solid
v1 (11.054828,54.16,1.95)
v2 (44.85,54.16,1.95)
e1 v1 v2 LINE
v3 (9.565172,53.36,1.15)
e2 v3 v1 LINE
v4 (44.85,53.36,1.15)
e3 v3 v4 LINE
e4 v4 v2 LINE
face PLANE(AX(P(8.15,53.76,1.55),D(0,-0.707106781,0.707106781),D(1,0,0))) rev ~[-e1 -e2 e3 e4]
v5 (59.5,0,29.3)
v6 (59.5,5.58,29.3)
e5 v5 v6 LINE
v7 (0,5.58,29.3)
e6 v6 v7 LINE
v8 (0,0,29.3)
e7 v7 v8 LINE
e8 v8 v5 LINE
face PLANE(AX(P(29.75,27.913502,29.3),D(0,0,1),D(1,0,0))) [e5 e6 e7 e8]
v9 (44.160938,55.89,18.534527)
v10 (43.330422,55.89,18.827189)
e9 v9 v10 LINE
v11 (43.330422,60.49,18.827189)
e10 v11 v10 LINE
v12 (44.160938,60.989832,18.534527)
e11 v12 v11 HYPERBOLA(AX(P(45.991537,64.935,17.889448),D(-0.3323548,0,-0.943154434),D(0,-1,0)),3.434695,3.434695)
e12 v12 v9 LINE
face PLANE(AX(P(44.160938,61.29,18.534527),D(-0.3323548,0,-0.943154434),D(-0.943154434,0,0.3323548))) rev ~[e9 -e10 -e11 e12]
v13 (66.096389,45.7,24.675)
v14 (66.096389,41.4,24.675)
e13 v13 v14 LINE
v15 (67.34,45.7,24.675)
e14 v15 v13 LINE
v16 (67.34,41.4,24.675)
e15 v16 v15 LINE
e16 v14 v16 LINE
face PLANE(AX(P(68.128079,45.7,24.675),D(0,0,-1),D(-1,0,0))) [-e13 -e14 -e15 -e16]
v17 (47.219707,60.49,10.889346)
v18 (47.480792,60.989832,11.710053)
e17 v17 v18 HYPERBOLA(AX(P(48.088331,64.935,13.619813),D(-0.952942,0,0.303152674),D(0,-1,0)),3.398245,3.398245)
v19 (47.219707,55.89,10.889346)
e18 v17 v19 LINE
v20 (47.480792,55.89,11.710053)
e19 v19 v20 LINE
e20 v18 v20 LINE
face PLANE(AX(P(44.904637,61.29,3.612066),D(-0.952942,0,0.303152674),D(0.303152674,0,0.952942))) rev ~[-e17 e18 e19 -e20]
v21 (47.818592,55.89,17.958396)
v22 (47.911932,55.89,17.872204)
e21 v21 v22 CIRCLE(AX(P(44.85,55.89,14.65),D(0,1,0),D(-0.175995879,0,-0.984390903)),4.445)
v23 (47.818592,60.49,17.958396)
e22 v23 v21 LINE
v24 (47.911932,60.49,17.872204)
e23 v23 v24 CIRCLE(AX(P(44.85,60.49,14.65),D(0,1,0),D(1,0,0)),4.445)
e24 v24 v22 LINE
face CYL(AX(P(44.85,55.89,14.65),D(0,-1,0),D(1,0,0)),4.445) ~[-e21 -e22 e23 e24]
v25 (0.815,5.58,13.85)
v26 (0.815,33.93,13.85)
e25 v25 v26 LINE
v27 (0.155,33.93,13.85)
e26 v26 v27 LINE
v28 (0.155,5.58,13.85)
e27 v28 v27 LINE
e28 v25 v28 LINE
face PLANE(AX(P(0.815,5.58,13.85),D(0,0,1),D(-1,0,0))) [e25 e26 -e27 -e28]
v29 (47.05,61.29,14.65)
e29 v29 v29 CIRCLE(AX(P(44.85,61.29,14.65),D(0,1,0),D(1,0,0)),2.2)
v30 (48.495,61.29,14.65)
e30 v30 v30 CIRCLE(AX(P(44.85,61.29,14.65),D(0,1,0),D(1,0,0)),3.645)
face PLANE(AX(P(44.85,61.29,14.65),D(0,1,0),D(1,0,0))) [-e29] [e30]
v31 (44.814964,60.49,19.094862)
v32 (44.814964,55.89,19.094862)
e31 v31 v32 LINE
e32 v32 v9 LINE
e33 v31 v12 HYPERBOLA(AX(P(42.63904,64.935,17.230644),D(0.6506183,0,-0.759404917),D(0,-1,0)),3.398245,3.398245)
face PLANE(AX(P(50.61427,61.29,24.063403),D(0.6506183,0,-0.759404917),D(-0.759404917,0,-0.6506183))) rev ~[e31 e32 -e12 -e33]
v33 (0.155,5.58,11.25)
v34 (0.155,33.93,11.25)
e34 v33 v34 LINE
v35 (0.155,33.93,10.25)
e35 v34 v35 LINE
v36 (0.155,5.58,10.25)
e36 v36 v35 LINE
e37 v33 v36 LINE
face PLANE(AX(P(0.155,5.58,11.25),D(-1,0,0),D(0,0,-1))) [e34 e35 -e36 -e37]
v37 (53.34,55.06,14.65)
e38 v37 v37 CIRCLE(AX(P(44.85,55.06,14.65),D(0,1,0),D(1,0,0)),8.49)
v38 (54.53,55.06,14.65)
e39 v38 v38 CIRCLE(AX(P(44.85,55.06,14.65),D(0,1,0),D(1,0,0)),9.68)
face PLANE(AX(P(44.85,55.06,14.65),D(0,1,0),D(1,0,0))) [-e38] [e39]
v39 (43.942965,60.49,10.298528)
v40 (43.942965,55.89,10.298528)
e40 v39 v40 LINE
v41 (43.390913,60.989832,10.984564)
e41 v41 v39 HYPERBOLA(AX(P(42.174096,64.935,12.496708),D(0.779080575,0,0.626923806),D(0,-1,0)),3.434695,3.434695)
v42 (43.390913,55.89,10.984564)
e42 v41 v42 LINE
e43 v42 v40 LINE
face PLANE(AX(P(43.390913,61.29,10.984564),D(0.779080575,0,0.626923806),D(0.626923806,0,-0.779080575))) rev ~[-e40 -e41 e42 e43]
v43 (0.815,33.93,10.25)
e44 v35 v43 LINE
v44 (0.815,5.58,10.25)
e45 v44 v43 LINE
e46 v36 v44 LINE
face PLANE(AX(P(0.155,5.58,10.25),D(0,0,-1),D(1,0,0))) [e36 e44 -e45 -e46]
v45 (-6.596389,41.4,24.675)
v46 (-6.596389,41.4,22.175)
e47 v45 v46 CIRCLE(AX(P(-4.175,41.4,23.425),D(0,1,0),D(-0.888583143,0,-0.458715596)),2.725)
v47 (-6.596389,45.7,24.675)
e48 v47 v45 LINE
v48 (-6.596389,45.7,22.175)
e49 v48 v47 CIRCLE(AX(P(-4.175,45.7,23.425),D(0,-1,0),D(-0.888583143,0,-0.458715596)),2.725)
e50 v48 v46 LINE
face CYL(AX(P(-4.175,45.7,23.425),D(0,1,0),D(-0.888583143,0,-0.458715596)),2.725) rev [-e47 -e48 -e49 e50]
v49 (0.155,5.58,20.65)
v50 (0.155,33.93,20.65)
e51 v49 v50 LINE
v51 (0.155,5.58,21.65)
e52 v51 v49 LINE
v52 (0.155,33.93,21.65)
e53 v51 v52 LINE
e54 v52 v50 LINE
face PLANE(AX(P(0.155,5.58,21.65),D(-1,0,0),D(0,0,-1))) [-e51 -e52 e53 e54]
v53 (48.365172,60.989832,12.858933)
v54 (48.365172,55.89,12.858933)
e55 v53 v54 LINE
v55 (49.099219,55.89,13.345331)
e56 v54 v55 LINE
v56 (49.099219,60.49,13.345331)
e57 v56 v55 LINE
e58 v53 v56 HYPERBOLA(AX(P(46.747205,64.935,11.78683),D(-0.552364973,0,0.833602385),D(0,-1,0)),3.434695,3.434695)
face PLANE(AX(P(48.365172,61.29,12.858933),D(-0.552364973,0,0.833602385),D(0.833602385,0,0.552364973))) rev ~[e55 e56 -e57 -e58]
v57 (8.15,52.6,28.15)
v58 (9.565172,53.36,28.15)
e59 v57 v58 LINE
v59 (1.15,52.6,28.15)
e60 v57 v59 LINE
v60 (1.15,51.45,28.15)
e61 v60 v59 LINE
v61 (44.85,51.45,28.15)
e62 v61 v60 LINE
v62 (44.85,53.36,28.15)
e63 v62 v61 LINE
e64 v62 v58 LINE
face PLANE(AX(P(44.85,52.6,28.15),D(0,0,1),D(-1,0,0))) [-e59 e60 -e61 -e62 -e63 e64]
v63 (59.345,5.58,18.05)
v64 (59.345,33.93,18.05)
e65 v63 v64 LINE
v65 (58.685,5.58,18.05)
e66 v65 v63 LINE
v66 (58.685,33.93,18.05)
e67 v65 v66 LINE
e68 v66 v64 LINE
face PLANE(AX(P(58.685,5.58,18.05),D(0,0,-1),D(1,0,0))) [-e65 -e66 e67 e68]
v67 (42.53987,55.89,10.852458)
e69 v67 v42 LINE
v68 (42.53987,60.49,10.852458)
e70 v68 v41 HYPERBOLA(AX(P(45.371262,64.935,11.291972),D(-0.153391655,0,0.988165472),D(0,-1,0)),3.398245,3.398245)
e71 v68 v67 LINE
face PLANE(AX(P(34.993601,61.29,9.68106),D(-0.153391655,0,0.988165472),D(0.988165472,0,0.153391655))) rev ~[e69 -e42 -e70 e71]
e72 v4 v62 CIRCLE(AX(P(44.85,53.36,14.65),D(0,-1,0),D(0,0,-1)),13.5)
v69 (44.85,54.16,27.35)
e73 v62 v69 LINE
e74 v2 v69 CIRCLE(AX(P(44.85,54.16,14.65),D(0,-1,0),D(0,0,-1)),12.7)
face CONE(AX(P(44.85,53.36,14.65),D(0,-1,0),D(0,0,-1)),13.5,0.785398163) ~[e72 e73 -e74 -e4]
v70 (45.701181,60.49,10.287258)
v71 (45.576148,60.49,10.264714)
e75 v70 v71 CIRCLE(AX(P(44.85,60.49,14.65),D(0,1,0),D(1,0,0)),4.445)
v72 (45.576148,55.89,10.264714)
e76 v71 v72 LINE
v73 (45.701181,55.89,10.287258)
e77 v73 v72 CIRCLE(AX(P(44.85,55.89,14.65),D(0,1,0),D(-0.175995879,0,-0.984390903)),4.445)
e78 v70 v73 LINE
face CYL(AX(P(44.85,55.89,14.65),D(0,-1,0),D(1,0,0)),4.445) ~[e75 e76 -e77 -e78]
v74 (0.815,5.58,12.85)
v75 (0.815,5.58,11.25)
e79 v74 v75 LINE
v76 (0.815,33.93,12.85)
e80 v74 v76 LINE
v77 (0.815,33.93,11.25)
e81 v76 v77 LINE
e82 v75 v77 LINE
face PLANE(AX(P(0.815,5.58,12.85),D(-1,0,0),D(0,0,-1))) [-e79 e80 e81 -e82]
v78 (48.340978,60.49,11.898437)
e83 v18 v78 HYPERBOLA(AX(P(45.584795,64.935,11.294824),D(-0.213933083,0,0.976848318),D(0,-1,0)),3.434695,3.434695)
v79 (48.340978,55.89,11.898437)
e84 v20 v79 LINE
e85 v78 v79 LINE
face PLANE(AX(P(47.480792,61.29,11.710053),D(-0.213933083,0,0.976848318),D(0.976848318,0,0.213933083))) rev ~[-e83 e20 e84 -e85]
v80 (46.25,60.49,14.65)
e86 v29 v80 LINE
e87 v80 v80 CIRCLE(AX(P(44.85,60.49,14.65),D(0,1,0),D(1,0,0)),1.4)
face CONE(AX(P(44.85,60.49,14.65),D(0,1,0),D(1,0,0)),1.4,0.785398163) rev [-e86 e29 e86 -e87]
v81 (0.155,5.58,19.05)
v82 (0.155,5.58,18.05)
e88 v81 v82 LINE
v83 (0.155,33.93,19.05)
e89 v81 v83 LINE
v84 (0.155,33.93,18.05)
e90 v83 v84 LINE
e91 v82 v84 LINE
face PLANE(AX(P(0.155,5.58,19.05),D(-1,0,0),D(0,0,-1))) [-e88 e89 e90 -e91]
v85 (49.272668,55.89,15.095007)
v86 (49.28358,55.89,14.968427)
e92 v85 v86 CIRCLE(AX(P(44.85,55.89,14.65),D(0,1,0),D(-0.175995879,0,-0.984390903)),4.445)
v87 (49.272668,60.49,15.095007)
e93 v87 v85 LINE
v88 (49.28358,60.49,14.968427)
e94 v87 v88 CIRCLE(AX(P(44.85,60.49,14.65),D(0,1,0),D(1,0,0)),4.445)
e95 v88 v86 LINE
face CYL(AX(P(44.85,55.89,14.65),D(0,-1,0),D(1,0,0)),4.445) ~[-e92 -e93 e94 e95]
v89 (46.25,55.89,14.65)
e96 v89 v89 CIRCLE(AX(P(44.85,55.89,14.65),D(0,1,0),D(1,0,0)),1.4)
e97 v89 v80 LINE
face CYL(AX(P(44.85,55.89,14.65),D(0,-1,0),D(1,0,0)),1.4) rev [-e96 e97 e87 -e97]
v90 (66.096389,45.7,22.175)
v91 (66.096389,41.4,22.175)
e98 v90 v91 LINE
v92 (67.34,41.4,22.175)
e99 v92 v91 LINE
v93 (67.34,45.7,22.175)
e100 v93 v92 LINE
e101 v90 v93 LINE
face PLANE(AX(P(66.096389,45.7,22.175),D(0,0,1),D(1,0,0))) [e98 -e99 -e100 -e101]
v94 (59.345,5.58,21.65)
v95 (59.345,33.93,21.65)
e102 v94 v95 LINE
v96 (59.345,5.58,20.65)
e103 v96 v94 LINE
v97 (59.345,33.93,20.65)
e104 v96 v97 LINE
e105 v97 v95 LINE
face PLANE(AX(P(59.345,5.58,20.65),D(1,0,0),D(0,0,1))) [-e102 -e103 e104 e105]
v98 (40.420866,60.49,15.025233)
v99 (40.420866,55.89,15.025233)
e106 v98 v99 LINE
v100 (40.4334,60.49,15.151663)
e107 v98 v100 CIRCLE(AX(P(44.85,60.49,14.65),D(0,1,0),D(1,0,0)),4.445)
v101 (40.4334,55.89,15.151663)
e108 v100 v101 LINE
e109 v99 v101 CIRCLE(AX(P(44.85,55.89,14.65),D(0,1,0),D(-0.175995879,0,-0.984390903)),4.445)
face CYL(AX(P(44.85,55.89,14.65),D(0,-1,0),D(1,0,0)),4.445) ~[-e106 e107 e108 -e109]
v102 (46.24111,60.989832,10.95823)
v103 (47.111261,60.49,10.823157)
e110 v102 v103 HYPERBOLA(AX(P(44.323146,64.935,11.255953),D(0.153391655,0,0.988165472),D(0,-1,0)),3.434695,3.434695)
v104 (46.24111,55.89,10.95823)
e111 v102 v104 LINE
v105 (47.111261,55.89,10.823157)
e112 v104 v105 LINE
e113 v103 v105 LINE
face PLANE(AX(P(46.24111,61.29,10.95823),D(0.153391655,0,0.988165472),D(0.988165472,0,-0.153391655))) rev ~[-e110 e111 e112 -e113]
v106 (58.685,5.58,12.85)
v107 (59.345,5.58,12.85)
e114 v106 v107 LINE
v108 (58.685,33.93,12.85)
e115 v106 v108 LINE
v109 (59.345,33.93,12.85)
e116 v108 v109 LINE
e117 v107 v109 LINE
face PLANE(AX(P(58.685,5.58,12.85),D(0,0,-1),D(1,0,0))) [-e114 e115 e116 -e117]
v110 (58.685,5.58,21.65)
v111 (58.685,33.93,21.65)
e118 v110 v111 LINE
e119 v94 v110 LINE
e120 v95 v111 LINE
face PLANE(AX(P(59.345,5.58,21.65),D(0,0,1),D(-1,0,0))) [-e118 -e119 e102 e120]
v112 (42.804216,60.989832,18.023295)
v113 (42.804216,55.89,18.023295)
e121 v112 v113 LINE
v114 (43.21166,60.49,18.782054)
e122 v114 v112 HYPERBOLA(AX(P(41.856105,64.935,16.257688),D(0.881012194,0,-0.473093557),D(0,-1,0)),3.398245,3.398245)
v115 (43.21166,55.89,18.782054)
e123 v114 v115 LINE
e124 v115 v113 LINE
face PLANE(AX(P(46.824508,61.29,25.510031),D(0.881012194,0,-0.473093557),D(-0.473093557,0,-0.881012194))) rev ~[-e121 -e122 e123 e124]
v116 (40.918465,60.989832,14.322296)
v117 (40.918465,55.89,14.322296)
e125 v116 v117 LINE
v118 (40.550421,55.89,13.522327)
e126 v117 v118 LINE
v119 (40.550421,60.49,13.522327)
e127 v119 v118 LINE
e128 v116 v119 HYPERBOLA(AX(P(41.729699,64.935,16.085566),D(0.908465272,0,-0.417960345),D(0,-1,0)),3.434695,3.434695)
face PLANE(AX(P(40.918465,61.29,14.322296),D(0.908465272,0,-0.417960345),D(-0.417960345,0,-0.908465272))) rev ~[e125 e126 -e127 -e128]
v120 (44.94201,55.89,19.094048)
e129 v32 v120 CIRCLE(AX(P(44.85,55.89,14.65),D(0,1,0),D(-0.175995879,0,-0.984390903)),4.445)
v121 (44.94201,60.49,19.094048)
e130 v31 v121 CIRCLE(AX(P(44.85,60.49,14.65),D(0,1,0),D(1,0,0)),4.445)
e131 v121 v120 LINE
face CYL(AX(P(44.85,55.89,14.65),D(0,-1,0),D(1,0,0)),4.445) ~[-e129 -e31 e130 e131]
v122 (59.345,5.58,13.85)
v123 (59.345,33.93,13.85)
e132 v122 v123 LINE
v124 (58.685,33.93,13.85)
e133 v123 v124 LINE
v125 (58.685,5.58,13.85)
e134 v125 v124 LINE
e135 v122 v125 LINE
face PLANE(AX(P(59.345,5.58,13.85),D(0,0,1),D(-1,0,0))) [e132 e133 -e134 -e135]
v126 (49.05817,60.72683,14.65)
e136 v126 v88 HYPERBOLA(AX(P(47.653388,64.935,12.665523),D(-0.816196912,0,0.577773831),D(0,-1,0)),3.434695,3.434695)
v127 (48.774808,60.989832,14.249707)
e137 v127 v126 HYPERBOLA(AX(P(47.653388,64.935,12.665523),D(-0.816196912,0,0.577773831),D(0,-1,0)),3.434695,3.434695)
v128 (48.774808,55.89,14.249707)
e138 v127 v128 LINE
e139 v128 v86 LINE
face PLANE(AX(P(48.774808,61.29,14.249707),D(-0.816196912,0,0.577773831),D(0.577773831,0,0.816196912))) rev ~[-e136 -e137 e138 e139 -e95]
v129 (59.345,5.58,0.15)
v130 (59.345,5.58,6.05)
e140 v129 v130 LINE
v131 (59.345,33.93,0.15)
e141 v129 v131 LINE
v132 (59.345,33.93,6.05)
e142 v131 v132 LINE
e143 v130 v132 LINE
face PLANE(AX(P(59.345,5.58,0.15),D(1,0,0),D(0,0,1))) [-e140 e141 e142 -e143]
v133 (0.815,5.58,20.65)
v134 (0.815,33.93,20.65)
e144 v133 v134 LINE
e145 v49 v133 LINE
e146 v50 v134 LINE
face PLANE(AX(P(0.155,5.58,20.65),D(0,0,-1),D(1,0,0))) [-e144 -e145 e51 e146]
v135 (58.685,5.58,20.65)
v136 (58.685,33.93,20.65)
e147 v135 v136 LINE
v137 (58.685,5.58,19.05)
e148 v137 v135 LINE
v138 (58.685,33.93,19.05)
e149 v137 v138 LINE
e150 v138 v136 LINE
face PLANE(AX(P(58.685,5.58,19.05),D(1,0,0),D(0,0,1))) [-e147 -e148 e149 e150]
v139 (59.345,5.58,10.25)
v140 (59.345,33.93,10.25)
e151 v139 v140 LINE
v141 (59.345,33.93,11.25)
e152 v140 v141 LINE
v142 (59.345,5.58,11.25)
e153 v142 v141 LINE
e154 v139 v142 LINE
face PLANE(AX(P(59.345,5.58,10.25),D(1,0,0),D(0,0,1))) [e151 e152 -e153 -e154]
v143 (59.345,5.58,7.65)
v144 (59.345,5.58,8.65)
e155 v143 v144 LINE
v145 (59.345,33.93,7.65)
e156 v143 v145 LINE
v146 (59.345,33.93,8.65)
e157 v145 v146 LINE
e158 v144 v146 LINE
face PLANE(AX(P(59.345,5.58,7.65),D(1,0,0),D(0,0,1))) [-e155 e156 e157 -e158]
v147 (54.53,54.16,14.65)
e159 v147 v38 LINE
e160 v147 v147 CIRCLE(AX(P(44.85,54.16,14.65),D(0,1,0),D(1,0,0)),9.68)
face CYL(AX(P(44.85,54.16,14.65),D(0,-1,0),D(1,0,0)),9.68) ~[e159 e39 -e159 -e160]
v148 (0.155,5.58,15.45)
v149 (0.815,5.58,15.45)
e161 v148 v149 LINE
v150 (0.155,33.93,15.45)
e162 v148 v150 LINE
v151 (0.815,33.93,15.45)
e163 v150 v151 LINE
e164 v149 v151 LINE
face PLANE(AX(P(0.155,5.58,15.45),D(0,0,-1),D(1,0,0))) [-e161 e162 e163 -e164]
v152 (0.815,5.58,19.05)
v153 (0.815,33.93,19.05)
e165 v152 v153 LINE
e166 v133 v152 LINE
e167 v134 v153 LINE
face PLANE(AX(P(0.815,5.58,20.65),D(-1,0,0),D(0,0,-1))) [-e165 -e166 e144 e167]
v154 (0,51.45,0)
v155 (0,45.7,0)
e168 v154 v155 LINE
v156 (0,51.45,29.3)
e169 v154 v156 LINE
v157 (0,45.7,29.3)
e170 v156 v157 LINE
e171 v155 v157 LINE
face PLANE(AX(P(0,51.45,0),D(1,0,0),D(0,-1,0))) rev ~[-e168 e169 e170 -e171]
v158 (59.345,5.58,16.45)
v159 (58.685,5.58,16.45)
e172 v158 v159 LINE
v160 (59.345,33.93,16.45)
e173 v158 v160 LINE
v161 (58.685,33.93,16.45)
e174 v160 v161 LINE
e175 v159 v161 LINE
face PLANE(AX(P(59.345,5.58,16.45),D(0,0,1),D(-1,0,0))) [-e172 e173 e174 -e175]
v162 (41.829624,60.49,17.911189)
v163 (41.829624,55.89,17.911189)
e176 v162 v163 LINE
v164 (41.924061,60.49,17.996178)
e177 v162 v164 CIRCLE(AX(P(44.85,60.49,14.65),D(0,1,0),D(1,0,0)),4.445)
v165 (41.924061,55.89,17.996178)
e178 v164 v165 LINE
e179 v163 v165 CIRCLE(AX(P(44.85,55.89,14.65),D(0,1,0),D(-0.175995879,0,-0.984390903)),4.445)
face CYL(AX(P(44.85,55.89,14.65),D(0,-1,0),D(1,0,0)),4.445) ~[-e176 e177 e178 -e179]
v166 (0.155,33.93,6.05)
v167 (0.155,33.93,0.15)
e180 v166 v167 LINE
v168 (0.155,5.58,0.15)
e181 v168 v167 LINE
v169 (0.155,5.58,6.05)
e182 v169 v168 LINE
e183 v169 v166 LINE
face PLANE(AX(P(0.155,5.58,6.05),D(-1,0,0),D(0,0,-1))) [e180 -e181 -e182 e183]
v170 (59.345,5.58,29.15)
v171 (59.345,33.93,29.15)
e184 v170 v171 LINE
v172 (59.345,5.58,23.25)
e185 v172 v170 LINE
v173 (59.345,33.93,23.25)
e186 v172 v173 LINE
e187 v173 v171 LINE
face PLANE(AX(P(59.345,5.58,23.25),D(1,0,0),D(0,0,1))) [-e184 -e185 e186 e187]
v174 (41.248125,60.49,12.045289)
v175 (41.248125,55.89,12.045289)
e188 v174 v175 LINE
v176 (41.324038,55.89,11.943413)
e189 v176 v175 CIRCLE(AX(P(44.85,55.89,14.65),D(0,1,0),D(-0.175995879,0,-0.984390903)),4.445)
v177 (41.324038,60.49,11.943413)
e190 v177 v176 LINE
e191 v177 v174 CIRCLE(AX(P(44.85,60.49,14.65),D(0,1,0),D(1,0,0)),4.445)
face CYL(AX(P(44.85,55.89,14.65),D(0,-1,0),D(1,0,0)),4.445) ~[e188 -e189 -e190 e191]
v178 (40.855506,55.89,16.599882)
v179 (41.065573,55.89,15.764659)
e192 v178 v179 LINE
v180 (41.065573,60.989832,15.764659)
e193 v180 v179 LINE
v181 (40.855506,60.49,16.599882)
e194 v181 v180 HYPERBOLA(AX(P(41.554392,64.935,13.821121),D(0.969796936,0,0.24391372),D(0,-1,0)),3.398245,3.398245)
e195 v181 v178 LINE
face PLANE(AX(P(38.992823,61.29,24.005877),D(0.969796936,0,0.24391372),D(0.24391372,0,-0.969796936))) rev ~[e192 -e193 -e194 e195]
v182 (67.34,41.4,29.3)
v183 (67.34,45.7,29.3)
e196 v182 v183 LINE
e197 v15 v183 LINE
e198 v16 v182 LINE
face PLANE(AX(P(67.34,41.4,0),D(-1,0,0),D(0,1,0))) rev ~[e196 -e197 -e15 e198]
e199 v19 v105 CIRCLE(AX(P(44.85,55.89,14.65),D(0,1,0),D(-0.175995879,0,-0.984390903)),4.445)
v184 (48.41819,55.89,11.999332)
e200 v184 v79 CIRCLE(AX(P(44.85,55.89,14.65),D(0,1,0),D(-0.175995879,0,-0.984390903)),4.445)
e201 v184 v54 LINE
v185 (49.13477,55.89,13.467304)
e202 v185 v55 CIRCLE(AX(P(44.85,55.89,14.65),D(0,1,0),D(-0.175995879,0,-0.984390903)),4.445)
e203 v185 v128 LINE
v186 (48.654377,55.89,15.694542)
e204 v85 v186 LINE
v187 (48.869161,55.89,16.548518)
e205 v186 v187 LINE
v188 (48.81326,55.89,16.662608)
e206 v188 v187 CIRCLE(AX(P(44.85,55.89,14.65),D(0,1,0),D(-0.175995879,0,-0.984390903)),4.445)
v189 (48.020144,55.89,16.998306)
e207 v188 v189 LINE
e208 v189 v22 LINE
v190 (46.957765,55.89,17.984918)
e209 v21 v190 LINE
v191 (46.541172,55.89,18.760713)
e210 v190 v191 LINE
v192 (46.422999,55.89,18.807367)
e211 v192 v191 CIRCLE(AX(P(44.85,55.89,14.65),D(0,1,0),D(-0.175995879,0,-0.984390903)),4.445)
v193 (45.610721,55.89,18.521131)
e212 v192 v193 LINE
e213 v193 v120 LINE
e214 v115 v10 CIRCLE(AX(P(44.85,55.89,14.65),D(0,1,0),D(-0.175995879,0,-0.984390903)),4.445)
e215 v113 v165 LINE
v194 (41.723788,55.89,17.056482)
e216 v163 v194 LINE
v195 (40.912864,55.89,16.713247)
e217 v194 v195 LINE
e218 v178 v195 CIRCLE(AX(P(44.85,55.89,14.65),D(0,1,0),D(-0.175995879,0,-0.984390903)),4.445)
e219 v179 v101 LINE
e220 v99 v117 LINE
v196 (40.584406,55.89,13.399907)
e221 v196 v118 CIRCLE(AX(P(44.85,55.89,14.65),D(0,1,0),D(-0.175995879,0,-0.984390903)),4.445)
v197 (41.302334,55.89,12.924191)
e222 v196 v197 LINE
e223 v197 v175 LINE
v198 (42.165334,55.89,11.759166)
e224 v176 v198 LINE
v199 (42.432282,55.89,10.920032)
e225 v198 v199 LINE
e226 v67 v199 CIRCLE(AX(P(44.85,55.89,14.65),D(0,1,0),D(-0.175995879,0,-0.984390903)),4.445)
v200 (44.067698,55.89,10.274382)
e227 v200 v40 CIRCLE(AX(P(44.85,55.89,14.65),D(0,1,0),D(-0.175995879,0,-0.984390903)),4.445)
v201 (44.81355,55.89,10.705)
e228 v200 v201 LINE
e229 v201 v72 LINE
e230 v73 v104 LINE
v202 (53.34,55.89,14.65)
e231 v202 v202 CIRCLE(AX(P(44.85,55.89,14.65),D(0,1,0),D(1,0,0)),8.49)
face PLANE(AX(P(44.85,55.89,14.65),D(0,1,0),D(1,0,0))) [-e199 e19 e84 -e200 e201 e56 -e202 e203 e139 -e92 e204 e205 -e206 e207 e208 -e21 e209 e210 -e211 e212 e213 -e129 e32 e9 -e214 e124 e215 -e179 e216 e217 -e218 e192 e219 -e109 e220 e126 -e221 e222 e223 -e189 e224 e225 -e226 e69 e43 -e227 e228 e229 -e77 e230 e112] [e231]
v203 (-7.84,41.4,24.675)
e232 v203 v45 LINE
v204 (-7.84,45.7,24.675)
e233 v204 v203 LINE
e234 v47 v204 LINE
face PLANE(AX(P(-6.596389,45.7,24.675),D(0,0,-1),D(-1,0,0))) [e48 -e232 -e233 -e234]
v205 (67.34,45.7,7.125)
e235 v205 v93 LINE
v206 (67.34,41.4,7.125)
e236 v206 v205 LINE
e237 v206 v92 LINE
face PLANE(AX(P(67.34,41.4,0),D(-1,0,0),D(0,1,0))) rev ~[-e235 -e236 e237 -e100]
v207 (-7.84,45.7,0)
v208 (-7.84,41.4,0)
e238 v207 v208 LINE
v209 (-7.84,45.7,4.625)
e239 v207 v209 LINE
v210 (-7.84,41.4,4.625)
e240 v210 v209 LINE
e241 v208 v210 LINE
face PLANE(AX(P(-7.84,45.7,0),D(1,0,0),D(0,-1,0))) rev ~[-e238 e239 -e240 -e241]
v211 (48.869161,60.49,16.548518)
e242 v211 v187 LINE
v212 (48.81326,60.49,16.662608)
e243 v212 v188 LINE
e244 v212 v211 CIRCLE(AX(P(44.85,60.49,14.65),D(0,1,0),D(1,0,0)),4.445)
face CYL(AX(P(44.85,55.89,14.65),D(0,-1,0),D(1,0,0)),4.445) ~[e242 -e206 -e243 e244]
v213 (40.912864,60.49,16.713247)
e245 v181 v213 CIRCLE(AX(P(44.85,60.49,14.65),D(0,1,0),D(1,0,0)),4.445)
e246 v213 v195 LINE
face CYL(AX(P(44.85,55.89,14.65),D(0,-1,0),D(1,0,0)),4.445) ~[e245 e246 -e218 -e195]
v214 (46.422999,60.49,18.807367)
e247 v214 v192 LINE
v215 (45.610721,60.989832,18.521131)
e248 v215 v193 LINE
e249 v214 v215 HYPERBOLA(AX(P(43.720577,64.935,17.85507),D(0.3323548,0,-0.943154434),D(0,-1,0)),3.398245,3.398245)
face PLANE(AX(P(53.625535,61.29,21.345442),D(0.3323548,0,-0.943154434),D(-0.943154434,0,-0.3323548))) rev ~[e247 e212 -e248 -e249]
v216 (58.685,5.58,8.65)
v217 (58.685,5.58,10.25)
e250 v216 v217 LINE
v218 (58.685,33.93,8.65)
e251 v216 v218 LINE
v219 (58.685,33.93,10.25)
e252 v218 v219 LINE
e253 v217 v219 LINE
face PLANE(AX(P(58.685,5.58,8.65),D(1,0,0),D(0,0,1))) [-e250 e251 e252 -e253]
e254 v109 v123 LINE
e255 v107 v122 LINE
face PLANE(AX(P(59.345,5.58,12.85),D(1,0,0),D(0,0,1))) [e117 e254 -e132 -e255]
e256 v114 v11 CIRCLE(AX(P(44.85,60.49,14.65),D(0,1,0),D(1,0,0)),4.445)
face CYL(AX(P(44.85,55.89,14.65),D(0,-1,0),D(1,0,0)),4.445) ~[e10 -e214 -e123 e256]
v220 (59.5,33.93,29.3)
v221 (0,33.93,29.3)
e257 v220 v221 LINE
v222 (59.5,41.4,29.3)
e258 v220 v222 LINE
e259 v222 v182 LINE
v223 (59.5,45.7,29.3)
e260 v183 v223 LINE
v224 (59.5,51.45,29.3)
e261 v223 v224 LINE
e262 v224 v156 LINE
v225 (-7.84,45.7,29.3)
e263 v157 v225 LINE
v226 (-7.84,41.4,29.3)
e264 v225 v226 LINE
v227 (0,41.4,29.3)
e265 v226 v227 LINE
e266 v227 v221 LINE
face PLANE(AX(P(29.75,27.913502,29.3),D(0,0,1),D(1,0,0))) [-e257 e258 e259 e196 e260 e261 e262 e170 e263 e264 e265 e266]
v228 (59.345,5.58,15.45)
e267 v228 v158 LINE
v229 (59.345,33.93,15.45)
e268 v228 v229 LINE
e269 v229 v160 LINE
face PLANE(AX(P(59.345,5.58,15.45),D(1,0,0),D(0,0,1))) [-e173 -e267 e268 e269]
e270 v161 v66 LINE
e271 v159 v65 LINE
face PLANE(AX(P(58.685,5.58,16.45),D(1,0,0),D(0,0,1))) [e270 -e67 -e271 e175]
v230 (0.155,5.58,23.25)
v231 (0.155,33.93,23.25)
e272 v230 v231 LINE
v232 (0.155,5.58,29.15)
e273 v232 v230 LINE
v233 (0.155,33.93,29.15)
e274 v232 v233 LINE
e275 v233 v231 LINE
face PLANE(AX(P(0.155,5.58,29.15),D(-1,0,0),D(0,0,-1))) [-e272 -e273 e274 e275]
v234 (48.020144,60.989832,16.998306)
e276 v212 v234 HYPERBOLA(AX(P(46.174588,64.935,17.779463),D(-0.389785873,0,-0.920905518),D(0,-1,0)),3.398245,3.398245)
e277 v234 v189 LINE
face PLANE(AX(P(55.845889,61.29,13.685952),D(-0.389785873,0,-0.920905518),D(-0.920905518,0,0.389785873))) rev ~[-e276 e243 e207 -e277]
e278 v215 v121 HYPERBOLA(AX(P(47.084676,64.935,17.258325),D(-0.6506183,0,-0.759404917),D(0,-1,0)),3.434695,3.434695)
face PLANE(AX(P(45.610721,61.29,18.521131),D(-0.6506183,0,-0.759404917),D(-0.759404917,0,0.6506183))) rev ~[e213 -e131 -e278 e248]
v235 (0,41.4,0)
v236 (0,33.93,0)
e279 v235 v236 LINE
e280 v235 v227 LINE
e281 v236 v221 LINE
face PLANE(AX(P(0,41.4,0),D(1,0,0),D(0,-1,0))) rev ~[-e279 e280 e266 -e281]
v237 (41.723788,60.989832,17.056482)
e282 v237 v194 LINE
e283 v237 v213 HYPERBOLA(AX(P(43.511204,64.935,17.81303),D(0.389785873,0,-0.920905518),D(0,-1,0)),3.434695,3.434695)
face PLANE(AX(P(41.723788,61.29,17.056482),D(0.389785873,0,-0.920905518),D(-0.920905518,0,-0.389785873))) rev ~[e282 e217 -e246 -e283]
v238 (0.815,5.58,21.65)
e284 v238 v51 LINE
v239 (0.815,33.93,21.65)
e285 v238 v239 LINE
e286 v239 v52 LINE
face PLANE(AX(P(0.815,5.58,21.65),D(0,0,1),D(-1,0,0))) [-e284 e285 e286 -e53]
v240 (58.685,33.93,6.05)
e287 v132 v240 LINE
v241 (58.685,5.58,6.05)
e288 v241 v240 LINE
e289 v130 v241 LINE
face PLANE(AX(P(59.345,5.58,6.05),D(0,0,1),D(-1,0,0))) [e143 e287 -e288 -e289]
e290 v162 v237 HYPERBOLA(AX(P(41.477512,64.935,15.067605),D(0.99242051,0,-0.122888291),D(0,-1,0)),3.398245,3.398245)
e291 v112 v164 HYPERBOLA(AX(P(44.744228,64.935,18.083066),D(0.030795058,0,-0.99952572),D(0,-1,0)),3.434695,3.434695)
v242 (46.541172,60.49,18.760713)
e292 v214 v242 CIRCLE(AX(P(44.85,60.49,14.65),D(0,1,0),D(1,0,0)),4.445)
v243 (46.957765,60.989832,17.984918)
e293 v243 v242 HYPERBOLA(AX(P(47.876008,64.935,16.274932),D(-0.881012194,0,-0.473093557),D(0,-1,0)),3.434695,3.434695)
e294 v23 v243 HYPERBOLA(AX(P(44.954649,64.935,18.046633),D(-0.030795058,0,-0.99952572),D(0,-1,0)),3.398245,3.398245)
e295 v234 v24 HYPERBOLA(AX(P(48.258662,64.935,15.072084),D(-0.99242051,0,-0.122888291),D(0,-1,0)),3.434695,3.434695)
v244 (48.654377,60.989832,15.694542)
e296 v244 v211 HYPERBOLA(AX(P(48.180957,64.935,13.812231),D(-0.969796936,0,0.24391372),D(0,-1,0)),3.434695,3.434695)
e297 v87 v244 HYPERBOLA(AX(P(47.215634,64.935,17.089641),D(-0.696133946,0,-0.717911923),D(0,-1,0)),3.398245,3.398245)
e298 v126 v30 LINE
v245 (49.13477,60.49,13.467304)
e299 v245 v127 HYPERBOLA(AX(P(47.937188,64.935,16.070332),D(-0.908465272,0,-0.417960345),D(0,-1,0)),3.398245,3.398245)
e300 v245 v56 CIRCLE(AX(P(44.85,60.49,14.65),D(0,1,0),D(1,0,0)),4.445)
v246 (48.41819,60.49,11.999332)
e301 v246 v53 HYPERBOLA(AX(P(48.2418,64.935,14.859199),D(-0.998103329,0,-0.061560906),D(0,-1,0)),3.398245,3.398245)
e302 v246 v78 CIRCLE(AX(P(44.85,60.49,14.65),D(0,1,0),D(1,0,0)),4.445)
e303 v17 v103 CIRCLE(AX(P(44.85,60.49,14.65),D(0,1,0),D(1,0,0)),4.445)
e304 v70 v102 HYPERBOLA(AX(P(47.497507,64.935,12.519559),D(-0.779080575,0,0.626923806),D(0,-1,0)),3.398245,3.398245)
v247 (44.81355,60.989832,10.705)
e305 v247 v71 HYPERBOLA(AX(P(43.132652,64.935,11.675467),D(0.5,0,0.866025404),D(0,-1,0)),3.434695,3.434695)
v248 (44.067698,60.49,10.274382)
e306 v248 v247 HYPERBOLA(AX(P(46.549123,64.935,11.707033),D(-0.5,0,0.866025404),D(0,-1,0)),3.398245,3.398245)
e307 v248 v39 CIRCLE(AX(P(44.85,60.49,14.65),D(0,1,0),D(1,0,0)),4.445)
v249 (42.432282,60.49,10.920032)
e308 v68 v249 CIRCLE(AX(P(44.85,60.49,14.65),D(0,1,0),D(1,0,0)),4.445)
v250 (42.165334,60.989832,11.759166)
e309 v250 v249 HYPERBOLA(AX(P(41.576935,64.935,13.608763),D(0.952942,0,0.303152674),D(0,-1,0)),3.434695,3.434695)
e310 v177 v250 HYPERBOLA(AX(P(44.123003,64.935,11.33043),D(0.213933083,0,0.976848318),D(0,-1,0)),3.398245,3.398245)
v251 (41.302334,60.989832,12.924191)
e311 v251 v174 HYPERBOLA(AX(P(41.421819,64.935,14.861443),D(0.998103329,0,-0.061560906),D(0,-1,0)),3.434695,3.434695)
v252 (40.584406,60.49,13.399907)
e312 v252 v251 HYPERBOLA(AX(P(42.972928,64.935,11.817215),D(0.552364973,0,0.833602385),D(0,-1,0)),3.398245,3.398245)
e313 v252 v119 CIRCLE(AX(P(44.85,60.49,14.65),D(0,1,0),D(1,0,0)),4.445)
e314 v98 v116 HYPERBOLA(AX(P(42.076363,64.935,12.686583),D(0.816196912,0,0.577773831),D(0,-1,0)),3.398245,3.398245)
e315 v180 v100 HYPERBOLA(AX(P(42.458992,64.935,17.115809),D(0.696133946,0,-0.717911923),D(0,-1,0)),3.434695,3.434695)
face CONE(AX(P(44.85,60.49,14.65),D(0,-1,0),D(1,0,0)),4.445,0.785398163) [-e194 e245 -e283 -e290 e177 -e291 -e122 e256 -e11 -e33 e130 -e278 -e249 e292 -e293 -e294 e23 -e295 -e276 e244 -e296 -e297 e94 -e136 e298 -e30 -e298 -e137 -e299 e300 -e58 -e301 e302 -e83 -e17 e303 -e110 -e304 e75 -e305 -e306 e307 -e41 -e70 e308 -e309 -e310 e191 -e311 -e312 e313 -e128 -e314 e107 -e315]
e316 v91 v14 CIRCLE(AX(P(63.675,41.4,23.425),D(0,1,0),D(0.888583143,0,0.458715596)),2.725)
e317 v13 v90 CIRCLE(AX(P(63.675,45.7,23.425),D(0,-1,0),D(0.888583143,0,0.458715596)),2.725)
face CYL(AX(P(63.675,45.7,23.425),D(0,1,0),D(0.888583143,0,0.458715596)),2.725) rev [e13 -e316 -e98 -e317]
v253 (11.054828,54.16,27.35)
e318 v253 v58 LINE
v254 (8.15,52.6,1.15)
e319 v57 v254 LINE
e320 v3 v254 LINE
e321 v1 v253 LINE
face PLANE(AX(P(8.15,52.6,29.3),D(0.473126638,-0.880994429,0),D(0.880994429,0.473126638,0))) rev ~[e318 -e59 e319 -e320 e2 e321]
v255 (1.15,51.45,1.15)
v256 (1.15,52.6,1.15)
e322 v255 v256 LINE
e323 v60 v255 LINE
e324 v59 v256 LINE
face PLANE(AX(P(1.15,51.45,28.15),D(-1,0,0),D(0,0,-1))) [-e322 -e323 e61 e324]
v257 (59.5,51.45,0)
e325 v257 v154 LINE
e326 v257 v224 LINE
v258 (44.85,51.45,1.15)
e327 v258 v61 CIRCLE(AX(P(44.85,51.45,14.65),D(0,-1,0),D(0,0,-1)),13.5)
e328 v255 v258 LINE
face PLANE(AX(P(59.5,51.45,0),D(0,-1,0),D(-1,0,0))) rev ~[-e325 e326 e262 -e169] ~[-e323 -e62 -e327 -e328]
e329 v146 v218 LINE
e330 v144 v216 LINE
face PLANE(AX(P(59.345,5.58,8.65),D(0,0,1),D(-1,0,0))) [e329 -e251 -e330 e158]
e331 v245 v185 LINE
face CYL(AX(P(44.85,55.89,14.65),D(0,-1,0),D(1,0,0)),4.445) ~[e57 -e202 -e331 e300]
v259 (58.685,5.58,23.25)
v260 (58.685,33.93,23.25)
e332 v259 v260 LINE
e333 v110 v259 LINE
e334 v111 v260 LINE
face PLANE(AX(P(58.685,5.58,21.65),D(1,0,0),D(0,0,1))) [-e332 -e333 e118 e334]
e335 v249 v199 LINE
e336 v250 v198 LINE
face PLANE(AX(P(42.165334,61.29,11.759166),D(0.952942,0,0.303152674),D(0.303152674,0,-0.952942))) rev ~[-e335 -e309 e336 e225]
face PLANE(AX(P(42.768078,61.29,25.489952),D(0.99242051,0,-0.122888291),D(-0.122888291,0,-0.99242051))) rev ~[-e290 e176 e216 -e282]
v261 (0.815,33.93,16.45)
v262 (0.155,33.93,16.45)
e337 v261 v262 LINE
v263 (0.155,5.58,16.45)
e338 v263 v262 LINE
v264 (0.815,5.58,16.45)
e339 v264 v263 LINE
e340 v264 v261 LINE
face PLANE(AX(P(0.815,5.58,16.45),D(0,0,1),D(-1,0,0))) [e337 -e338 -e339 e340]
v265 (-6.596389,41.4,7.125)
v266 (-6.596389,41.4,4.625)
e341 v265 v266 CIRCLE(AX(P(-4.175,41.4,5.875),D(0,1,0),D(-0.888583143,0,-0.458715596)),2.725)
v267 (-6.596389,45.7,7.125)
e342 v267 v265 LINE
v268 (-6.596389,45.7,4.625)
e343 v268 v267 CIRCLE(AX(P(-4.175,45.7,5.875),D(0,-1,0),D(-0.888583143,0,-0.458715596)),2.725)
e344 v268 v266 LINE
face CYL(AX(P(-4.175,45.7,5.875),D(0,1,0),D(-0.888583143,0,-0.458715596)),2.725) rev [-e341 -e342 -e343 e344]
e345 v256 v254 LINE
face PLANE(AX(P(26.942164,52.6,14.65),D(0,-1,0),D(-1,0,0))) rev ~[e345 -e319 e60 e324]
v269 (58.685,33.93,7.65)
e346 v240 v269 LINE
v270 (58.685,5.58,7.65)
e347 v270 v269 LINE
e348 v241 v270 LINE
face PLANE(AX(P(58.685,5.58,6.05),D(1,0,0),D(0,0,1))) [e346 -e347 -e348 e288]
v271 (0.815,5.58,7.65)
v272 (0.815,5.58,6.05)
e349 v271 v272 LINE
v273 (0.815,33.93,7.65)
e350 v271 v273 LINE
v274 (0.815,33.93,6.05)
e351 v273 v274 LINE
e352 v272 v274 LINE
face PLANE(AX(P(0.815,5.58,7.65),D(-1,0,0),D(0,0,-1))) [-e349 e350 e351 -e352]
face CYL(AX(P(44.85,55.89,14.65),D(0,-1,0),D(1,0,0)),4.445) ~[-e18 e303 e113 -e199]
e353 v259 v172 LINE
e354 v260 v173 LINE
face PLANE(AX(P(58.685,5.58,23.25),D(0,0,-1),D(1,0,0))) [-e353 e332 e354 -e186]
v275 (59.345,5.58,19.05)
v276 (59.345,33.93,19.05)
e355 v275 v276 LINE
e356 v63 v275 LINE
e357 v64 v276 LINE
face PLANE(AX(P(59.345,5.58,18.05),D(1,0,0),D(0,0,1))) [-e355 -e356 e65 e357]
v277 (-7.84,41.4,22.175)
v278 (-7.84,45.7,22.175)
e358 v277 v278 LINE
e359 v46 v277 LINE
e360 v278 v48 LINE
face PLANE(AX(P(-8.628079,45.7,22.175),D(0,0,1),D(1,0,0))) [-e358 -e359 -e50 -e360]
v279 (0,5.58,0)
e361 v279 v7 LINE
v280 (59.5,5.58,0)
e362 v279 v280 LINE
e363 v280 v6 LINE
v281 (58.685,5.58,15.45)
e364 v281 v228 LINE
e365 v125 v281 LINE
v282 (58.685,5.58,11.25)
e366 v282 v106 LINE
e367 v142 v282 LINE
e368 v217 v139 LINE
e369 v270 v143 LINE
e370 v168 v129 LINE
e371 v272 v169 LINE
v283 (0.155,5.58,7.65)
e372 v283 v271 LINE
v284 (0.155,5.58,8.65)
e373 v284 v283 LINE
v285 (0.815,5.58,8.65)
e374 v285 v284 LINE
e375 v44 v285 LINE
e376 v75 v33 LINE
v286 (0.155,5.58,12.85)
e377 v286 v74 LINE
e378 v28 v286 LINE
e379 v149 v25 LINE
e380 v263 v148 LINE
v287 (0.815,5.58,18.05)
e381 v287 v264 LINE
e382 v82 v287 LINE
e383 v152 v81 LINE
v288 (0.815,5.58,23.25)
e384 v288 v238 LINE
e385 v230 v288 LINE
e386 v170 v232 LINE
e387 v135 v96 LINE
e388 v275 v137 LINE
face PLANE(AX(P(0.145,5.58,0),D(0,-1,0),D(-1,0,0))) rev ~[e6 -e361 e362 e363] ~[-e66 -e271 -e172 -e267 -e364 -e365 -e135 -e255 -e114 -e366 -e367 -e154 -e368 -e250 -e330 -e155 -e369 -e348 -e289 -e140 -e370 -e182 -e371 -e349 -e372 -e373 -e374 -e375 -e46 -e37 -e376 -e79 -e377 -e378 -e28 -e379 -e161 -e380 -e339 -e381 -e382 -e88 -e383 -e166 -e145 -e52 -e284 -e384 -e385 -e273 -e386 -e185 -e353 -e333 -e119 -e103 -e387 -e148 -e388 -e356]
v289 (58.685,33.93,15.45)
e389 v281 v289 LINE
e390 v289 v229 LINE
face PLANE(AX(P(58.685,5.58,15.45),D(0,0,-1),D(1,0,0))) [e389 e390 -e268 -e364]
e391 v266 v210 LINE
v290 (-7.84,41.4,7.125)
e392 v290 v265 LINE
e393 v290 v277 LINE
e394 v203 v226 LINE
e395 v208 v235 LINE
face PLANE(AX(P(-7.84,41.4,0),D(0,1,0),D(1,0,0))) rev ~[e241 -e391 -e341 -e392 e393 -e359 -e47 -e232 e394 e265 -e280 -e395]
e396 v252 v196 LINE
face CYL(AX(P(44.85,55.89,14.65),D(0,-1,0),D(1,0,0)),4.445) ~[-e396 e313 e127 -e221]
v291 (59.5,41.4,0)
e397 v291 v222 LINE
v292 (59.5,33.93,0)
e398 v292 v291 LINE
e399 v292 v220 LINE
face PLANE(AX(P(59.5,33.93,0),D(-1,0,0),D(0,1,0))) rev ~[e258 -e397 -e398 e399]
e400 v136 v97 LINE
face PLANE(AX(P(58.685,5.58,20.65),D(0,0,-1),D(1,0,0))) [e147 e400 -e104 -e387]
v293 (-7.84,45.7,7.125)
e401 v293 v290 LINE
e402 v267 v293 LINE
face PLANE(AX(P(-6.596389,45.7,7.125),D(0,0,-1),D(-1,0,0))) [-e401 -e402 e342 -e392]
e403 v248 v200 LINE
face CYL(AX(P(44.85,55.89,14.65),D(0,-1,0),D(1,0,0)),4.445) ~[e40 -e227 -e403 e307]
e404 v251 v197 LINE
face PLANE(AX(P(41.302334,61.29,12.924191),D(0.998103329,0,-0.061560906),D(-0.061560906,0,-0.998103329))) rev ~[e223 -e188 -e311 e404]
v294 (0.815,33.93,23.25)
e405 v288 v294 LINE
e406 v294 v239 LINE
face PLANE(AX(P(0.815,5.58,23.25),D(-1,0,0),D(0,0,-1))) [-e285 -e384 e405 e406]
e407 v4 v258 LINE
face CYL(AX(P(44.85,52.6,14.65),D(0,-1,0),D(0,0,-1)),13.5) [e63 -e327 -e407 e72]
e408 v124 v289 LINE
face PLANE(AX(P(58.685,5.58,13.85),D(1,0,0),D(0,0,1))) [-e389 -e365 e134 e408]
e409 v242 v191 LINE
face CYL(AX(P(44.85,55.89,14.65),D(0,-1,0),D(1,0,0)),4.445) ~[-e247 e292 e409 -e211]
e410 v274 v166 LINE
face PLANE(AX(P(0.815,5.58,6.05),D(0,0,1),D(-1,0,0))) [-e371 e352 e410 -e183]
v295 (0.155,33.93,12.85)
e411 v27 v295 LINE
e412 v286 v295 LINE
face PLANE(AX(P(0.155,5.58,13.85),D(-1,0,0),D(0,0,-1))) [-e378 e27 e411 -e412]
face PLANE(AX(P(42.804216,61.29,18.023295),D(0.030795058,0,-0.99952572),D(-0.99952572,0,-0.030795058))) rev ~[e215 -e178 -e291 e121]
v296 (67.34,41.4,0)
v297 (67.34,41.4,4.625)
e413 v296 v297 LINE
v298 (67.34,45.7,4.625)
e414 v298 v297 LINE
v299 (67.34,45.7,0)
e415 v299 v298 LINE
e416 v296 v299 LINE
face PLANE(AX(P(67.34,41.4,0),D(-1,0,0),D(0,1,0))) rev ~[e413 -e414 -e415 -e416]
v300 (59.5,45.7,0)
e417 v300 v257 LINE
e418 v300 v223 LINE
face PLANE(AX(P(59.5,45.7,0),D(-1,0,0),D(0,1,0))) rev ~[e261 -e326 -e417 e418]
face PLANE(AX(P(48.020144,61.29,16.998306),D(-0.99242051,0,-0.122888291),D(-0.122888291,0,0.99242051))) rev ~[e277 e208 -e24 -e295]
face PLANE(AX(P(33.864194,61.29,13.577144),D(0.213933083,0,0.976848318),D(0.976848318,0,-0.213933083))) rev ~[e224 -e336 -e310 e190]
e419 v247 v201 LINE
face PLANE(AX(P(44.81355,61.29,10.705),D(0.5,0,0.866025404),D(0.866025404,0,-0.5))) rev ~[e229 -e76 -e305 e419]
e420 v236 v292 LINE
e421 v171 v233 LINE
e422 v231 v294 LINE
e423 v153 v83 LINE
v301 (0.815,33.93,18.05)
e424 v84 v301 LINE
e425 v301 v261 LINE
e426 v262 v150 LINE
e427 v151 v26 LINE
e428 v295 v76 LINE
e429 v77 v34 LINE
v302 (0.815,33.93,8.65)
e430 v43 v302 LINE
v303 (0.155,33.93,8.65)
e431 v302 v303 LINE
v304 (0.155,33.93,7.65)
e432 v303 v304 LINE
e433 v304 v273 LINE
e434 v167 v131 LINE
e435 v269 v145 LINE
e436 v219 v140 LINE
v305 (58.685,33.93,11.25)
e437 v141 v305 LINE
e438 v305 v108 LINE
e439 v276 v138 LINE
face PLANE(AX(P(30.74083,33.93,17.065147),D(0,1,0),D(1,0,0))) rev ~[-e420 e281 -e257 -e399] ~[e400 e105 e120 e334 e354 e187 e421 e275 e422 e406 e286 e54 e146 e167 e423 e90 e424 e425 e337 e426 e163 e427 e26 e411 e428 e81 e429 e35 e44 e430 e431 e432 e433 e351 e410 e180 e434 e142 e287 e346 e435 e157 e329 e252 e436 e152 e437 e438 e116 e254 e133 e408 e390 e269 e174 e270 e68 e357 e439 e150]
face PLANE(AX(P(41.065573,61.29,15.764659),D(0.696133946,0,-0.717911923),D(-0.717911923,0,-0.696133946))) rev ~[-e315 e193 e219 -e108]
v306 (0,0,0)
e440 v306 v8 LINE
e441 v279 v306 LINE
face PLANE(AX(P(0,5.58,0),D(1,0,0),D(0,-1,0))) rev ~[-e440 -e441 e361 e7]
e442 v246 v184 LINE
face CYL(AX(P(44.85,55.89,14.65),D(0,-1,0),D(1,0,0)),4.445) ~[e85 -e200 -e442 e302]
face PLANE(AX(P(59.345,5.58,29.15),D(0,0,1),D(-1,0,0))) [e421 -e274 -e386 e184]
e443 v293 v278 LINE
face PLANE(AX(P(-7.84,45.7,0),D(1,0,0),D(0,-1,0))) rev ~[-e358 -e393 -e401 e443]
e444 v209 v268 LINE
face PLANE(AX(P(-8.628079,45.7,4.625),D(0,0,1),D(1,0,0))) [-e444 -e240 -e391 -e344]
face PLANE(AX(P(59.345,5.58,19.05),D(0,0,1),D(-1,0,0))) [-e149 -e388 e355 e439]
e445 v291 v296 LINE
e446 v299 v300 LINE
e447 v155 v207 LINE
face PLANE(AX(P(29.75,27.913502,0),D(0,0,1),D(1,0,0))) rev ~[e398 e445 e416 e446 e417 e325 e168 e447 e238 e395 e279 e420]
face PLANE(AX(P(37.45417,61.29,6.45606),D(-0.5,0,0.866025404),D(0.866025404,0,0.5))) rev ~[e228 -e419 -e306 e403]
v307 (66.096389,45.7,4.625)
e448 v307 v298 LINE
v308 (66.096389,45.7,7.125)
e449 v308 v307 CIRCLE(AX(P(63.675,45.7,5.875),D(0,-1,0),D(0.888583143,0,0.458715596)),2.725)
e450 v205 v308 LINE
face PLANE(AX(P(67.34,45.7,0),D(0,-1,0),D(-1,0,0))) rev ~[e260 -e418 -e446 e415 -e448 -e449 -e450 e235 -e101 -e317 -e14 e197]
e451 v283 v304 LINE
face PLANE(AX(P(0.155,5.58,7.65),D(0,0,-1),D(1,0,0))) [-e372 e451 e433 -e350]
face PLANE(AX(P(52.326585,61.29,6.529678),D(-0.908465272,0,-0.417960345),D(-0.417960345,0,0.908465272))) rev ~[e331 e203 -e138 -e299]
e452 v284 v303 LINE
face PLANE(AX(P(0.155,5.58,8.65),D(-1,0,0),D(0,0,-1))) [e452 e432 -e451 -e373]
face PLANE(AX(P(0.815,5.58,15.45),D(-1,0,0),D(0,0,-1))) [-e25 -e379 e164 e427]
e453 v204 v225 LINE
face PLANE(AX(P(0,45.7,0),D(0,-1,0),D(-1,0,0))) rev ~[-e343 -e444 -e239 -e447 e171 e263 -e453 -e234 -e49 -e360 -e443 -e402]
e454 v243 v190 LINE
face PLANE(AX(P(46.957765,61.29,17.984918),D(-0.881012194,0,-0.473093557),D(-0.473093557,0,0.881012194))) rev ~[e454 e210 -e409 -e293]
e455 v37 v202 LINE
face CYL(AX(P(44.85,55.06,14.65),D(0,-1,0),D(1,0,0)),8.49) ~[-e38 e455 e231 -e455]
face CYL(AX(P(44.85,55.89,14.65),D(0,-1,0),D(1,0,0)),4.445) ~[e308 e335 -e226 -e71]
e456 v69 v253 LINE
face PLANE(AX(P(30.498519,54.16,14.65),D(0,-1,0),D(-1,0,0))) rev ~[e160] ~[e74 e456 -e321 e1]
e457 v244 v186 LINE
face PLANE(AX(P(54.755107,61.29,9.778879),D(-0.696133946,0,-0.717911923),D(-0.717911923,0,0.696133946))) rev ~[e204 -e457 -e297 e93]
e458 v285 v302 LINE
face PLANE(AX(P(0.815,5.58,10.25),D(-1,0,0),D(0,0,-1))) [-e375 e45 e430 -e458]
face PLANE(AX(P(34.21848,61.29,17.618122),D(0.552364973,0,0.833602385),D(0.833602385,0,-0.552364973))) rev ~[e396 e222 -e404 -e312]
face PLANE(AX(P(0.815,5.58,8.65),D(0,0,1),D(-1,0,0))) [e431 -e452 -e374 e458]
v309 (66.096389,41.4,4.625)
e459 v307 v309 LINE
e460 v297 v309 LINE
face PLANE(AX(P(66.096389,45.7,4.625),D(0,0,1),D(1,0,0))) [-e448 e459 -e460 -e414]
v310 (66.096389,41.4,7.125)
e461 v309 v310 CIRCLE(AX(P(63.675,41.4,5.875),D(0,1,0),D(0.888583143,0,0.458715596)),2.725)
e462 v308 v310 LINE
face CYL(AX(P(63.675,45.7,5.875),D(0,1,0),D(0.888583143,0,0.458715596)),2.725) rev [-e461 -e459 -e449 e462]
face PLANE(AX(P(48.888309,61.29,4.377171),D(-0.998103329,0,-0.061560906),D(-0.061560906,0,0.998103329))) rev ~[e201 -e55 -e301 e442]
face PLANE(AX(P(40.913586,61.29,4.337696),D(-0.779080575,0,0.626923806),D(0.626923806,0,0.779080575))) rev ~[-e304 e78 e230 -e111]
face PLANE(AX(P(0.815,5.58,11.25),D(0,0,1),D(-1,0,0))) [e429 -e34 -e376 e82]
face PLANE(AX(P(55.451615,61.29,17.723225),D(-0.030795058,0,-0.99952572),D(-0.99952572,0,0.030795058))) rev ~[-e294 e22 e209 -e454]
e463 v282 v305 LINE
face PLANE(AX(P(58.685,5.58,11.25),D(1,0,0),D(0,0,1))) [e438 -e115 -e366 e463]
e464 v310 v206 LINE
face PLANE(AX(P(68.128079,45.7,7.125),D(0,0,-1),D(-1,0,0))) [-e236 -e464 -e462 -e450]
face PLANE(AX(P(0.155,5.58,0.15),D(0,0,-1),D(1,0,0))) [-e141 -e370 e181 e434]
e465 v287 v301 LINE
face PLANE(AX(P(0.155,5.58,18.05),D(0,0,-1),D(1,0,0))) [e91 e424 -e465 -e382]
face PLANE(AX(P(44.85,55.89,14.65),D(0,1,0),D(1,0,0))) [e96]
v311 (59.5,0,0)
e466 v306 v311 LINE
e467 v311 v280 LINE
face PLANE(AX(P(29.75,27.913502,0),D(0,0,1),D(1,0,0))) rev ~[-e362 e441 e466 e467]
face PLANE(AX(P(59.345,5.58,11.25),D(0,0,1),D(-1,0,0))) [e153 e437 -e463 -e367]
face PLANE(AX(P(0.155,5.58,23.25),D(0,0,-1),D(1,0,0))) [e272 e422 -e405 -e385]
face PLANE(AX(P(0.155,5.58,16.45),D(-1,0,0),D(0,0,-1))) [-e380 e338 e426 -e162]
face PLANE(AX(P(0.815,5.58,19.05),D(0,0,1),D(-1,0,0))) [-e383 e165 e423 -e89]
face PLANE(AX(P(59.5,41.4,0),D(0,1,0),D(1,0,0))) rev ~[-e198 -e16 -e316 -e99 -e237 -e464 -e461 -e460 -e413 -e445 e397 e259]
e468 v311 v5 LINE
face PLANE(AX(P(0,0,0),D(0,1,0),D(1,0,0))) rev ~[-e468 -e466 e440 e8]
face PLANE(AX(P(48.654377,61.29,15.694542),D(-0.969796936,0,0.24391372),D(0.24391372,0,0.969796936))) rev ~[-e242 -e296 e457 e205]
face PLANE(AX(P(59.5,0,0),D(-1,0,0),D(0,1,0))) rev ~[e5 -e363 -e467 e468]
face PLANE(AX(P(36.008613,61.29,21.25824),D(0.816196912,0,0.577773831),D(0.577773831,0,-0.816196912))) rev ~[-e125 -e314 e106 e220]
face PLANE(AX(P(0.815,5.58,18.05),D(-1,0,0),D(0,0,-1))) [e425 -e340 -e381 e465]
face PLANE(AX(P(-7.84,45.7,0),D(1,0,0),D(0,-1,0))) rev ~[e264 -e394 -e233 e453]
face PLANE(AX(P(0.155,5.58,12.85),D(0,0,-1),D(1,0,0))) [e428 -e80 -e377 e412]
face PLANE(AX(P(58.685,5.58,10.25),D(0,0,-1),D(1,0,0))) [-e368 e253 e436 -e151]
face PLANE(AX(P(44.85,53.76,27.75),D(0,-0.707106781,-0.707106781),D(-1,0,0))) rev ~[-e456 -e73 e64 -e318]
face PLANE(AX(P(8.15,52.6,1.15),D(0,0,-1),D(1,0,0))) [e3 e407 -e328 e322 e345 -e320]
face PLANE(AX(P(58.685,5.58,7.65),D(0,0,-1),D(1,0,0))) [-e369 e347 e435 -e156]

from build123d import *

# Parameters (mm, degrees)
SALIENTE_EXTRUIR1_DEPTH = 29.3
CROQUIS2_W              = 85.211346073
CROQUIS2_H              = 50.160748779
CORTAR_EXTRUIR1_DEPTH   = 28.35
CORTAR_EXTRUIR2_REACH   = 47.7
SALIENTE_EXTRUIR2_DEPTH = 1.15
SALIENTE_EXTRUIR3_DEPTH = 1.56
CHAFL_N1_SIZE           = 0.8
CORTAR_EXTRUIR3_DEPTH   = 30.3
CROQUIS7_R              = 9.68
SALIENTE_EXTRUIR4_DEPTH = 0.9
CROQUIS8_R              = 8.49
SALIENTE_EXTRUIR5_DEPTH = 0.83
CROQUIS9_R              = 4.445
CROQUIS9_R_2            = 1.4
SALIENTE_EXTRUIR6_DEPTH = 5.4
CHAFL_N2_SIZE           = 0.8
CORTAR_EXTRUIR4_DEPTH   = 5.4
MATRIZC1_COUNT          = 17


with BuildPart() as part:
    # Croquis1 → Saliente-Extruir1 (new body)
    with BuildSketch(Plane.XY):
        Polygon((0, 0), (59.5, 0), (59.5, 5.58), (59.355, 5.58), (59.355, 33.93), (59.5, 33.93), (59.5, 41.4), (67.34, 41.4), (67.34, 45.7), (59.5, 45.7), (59.5, 51.45), (0, 51.45), (0, 45.7), (-7.84, 45.7), (-7.84, 41.4), (0, 41.4), (0, 33.93), (0.145, 33.93), (0.145, 5.58), (0, 5.58), align=None)
    extrude(amount=SALIENTE_EXTRUIR1_DEPTH)

    # Croquis2 → Cortar-Extruir1 (cut)
    with BuildSketch(Plane(origin=(0, 5.58, 0), x_dir=(1, 0, 0), z_dir=(0, 1, 0))):
        with Locations((30.740829606, -17.065147164)):
            Rectangle(CROQUIS2_W, CROQUIS2_H)
        Polygon((0.155, -0.15), (59.345, -0.15), (59.345, -6.05), (58.685, -6.05), (58.685, -7.65), (59.345, -7.65), (59.345, -8.65), (58.685, -8.65), (58.685, -10.25), (59.345, -10.25), (59.345, -11.25), (58.685, -11.25), (58.685, -12.85), (59.345, -12.85), (59.345, -13.85), (58.685, -13.85), (58.685, -15.45), (59.345, -15.45), (59.345, -16.45), (58.685, -16.45), (58.685, -18.05), (59.345, -18.05), (59.345, -19.05), (58.685, -19.05), (58.685, -20.65), (59.345, -20.65), (59.345, -21.65), (58.685, -21.65), (58.685, -23.25), (59.345, -23.25), (59.345, -29.15), (0.155, -29.15), (0.155, -23.25), (0.815, -23.25), (0.815, -21.65), (0.155, -21.65), (0.155, -20.65), (0.815, -20.65), (0.815, -19.05), (0.155, -19.05), (0.155, -18.05), (0.815, -18.05), (0.815, -16.45), (0.155, -16.45), (0.155, -15.45), (0.815, -15.45), (0.815, -13.85), (0.155, -13.85), (0.155, -12.85), (0.815, -12.85), (0.815, -11.25), (0.155, -11.25), (0.155, -10.25), (0.815, -10.25), (0.815, -8.65), (0.155, -8.65), (0.155, -7.65), (0.815, -7.65), (0.815, -6.05), (0.155, -6.05), align=None, mode=Mode.SUBTRACT)
    extrude(amount=CORTAR_EXTRUIR1_DEPTH, mode=Mode.SUBTRACT)

    # Croquis3 → Cortar-Extruir2 (cut, up to next)
    with BuildSketch(Plane(origin=(0, 45.7, 0), x_dir=(1, 0, 0), z_dir=(0, 1, 0)), mode=Mode.PRIVATE) as cortar_extruir2_sk1:
        with BuildLine():
            Line((-8.62807943, -4.625), (-6.596389064, -4.625))
            ThreePointArc((-6.596389064, -4.625), (-1.45, -5.875), (-6.596389064, -7.125))
            Line((-6.596389064, -7.125), (-8.62807943, -7.125))
            Line((-8.62807943, -7.125), (-8.62807943, -4.625))
        make_face()
    cortar_extruir2_tool1 = extrude(cortar_extruir2_sk1.sketch, amount=-CORTAR_EXTRUIR2_REACH, mode=Mode.PRIVATE) & part.part
    add(cortar_extruir2_tool1.solids().sort_by_distance((-4.754174, 45.7, 5.875))[0], mode=Mode.SUBTRACT)
    # Croquis3 → Cortar-Extruir2 (cut, up to next)
    with BuildSketch(Plane(origin=(0, 45.7, 0), x_dir=(1, 0, 0), z_dir=(0, 1, 0)), mode=Mode.PRIVATE) as cortar_extruir2_sk2:
        with BuildLine():
            Line((68.12807943, -7.125), (66.096389064, -7.125))
            ThreePointArc((66.096389064, -7.125), (60.95, -5.875), (66.096389064, -4.625))
            Line((66.096389064, -4.625), (68.12807943, -4.625))
            Line((68.12807943, -4.625), (68.12807943, -7.125))
        make_face()
    cortar_extruir2_tool2 = extrude(cortar_extruir2_sk2.sketch, amount=-CORTAR_EXTRUIR2_REACH, mode=Mode.PRIVATE) & part.part
    add(cortar_extruir2_tool2.solids().sort_by_distance((64.254174, 45.7, 5.875))[0], mode=Mode.SUBTRACT)
    # Croquis3 → Cortar-Extruir2 (cut, up to next)
    with BuildSketch(Plane(origin=(0, 45.7, 0), x_dir=(1, 0, 0), z_dir=(0, 1, 0)), mode=Mode.PRIVATE) as cortar_extruir2_sk3:
        with BuildLine():
            Line((68.12807943, -24.675), (66.096389064, -24.675))
            ThreePointArc((66.096389064, -24.675), (60.95, -23.425), (66.096389064, -22.175))
            Line((66.096389064, -22.175), (68.12807943, -22.175))
            Line((68.12807943, -22.175), (68.12807943, -24.675))
        make_face()
    cortar_extruir2_tool3 = extrude(cortar_extruir2_sk3.sketch, amount=-CORTAR_EXTRUIR2_REACH, mode=Mode.PRIVATE) & part.part
    add(cortar_extruir2_tool3.solids().sort_by_distance((64.254174, 45.7, 23.425))[0], mode=Mode.SUBTRACT)
    # Croquis3 → Cortar-Extruir2 (cut, up to next)
    with BuildSketch(Plane(origin=(0, 45.7, 0), x_dir=(1, 0, 0), z_dir=(0, 1, 0)), mode=Mode.PRIVATE) as cortar_extruir2_sk4:
        with BuildLine():
            Line((-8.62807943, -22.175), (-6.596389064, -22.175))
            ThreePointArc((-6.596389064, -22.175), (-1.45, -23.425), (-6.596389064, -24.675))
            Line((-6.596389064, -24.675), (-8.62807943, -24.675))
            Line((-8.62807943, -24.675), (-8.62807943, -22.175))
        make_face()
    cortar_extruir2_tool4 = extrude(cortar_extruir2_sk4.sketch, amount=-CORTAR_EXTRUIR2_REACH, mode=Mode.PRIVATE) & part.part
    add(cortar_extruir2_tool4.solids().sort_by_distance((-4.754174, 45.7, 23.425))[0], mode=Mode.SUBTRACT)

    # Croquis4 → Saliente-Extruir2 (add)
    with BuildSketch(Plane(origin=(0, 51.45, 0), x_dir=(1, 0, 0), z_dir=(0, 1, 0))):
        with BuildLine():
            Line((1.15, -1.15), (44.85, -1.15))
            ThreePointArc((44.85, -1.15), (58.35, -14.65), (44.85, -28.15))
            Line((44.85, -28.15), (1.15, -28.15))
            Line((1.15, -28.15), (1.15, -1.15))
        make_face()
    extrude(amount=SALIENTE_EXTRUIR2_DEPTH)

    # Croquis5 → Saliente-Extruir3 (add)
    with BuildSketch(Plane(origin=(0, 52.6, 0), x_dir=(1, 0, 0), z_dir=(0, 1, 0))):
        with BuildLine():
            Line((8.15, -1.15), (44.85, -1.15))
            ThreePointArc((44.85, -1.15), (58.35, -14.65), (44.85, -28.15))
            Line((44.85, -28.15), (8.15, -28.15))
            Line((8.15, -28.15), (8.15, -1.15))
        make_face()
    extrude(amount=SALIENTE_EXTRUIR3_DEPTH)

    # Chaflán1
    chafl_n1_edges = [part.edges().sort_by_distance(p)[0] for p in [
        (26.5, 54.16, 1.15),
        (58.35, 54.16, 14.65),
        (26.5, 54.16, 28.15),
        (8.15, 54.16, 14.65),
    ]]
    chamfer(chafl_n1_edges, length=CHAFL_N1_SIZE)

    # Croquis6 → Cortar-Extruir3 (cut, through all)
    with BuildSketch(Plane.XY.offset(29.3)):
        Polygon((-14.418501218, 52.6), (8.15, 52.6), (21.570974014, 59.807560118), align=None)
    extrude(amount=-CORTAR_EXTRUIR3_DEPTH, mode=Mode.SUBTRACT)

    # Croquis7 → Saliente-Extruir4 (add)
    with BuildSketch(Plane(origin=(0, 54.16, 0), x_dir=(1, 0, 0), z_dir=(0, 1, 0))):
        with Locations((44.85, -14.65)):
            Circle(CROQUIS7_R)
    extrude(amount=SALIENTE_EXTRUIR4_DEPTH)

    # Croquis8 → Saliente-Extruir5 (add)
    with BuildSketch(Plane(origin=(0, 55.06, 0), x_dir=(1, 0, 0), z_dir=(0, 1, 0))):
        with Locations((44.85, -14.65)):
            Circle(CROQUIS8_R)
    extrude(amount=SALIENTE_EXTRUIR5_DEPTH)

    # Croquis9 → Saliente-Extruir6 (add)
    with BuildSketch(Plane(origin=(0, 55.89, 0), x_dir=(1, 0, 0), z_dir=(0, 1, 0))):
        with Locations((44.85, -14.65)):
            Circle(CROQUIS9_R)
        with Locations((44.85, -14.65)):
            Circle(CROQUIS9_R_2, mode=Mode.SUBTRACT)
    extrude(amount=SALIENTE_EXTRUIR6_DEPTH)

    # Chaflán2
    chafl_n2_edges = [part.edges().sort_by_distance(p)[0] for p in [
        (40.405, 61.29, 14.65),
        (43.45, 61.29, 14.65),
    ]]
    chamfer(chafl_n2_edges, length=CHAFL_N2_SIZE)

    # Croquis10 → Cortar-Extruir4 (cut)
    with BuildSketch(Plane(origin=(0, 61.29, 0), x_dir=(1, 0, 0), z_dir=(0, 1, 0))):
        Polygon((37.454169613, -6.456059857), (44.813549818, -10.705), (52.172930023, -6.456059857), align=None)
    cortar_extruir4 = extrude(amount=-CORTAR_EXTRUIR4_DEPTH, mode=Mode.SUBTRACT)

    # MatrizC1: Cortar-Extruir4 ×17 about axis
    matrizc1_axis = Axis((44.85, 0, 14.65), (0, 1, 0))
    for i in range(1, MATRIZC1_COUNT):
        add(cortar_extruir4.rotate(matrizc1_axis, i * 360 / MATRIZC1_COUNT), mode=Mode.SUBTRACT)


solid = part.part
